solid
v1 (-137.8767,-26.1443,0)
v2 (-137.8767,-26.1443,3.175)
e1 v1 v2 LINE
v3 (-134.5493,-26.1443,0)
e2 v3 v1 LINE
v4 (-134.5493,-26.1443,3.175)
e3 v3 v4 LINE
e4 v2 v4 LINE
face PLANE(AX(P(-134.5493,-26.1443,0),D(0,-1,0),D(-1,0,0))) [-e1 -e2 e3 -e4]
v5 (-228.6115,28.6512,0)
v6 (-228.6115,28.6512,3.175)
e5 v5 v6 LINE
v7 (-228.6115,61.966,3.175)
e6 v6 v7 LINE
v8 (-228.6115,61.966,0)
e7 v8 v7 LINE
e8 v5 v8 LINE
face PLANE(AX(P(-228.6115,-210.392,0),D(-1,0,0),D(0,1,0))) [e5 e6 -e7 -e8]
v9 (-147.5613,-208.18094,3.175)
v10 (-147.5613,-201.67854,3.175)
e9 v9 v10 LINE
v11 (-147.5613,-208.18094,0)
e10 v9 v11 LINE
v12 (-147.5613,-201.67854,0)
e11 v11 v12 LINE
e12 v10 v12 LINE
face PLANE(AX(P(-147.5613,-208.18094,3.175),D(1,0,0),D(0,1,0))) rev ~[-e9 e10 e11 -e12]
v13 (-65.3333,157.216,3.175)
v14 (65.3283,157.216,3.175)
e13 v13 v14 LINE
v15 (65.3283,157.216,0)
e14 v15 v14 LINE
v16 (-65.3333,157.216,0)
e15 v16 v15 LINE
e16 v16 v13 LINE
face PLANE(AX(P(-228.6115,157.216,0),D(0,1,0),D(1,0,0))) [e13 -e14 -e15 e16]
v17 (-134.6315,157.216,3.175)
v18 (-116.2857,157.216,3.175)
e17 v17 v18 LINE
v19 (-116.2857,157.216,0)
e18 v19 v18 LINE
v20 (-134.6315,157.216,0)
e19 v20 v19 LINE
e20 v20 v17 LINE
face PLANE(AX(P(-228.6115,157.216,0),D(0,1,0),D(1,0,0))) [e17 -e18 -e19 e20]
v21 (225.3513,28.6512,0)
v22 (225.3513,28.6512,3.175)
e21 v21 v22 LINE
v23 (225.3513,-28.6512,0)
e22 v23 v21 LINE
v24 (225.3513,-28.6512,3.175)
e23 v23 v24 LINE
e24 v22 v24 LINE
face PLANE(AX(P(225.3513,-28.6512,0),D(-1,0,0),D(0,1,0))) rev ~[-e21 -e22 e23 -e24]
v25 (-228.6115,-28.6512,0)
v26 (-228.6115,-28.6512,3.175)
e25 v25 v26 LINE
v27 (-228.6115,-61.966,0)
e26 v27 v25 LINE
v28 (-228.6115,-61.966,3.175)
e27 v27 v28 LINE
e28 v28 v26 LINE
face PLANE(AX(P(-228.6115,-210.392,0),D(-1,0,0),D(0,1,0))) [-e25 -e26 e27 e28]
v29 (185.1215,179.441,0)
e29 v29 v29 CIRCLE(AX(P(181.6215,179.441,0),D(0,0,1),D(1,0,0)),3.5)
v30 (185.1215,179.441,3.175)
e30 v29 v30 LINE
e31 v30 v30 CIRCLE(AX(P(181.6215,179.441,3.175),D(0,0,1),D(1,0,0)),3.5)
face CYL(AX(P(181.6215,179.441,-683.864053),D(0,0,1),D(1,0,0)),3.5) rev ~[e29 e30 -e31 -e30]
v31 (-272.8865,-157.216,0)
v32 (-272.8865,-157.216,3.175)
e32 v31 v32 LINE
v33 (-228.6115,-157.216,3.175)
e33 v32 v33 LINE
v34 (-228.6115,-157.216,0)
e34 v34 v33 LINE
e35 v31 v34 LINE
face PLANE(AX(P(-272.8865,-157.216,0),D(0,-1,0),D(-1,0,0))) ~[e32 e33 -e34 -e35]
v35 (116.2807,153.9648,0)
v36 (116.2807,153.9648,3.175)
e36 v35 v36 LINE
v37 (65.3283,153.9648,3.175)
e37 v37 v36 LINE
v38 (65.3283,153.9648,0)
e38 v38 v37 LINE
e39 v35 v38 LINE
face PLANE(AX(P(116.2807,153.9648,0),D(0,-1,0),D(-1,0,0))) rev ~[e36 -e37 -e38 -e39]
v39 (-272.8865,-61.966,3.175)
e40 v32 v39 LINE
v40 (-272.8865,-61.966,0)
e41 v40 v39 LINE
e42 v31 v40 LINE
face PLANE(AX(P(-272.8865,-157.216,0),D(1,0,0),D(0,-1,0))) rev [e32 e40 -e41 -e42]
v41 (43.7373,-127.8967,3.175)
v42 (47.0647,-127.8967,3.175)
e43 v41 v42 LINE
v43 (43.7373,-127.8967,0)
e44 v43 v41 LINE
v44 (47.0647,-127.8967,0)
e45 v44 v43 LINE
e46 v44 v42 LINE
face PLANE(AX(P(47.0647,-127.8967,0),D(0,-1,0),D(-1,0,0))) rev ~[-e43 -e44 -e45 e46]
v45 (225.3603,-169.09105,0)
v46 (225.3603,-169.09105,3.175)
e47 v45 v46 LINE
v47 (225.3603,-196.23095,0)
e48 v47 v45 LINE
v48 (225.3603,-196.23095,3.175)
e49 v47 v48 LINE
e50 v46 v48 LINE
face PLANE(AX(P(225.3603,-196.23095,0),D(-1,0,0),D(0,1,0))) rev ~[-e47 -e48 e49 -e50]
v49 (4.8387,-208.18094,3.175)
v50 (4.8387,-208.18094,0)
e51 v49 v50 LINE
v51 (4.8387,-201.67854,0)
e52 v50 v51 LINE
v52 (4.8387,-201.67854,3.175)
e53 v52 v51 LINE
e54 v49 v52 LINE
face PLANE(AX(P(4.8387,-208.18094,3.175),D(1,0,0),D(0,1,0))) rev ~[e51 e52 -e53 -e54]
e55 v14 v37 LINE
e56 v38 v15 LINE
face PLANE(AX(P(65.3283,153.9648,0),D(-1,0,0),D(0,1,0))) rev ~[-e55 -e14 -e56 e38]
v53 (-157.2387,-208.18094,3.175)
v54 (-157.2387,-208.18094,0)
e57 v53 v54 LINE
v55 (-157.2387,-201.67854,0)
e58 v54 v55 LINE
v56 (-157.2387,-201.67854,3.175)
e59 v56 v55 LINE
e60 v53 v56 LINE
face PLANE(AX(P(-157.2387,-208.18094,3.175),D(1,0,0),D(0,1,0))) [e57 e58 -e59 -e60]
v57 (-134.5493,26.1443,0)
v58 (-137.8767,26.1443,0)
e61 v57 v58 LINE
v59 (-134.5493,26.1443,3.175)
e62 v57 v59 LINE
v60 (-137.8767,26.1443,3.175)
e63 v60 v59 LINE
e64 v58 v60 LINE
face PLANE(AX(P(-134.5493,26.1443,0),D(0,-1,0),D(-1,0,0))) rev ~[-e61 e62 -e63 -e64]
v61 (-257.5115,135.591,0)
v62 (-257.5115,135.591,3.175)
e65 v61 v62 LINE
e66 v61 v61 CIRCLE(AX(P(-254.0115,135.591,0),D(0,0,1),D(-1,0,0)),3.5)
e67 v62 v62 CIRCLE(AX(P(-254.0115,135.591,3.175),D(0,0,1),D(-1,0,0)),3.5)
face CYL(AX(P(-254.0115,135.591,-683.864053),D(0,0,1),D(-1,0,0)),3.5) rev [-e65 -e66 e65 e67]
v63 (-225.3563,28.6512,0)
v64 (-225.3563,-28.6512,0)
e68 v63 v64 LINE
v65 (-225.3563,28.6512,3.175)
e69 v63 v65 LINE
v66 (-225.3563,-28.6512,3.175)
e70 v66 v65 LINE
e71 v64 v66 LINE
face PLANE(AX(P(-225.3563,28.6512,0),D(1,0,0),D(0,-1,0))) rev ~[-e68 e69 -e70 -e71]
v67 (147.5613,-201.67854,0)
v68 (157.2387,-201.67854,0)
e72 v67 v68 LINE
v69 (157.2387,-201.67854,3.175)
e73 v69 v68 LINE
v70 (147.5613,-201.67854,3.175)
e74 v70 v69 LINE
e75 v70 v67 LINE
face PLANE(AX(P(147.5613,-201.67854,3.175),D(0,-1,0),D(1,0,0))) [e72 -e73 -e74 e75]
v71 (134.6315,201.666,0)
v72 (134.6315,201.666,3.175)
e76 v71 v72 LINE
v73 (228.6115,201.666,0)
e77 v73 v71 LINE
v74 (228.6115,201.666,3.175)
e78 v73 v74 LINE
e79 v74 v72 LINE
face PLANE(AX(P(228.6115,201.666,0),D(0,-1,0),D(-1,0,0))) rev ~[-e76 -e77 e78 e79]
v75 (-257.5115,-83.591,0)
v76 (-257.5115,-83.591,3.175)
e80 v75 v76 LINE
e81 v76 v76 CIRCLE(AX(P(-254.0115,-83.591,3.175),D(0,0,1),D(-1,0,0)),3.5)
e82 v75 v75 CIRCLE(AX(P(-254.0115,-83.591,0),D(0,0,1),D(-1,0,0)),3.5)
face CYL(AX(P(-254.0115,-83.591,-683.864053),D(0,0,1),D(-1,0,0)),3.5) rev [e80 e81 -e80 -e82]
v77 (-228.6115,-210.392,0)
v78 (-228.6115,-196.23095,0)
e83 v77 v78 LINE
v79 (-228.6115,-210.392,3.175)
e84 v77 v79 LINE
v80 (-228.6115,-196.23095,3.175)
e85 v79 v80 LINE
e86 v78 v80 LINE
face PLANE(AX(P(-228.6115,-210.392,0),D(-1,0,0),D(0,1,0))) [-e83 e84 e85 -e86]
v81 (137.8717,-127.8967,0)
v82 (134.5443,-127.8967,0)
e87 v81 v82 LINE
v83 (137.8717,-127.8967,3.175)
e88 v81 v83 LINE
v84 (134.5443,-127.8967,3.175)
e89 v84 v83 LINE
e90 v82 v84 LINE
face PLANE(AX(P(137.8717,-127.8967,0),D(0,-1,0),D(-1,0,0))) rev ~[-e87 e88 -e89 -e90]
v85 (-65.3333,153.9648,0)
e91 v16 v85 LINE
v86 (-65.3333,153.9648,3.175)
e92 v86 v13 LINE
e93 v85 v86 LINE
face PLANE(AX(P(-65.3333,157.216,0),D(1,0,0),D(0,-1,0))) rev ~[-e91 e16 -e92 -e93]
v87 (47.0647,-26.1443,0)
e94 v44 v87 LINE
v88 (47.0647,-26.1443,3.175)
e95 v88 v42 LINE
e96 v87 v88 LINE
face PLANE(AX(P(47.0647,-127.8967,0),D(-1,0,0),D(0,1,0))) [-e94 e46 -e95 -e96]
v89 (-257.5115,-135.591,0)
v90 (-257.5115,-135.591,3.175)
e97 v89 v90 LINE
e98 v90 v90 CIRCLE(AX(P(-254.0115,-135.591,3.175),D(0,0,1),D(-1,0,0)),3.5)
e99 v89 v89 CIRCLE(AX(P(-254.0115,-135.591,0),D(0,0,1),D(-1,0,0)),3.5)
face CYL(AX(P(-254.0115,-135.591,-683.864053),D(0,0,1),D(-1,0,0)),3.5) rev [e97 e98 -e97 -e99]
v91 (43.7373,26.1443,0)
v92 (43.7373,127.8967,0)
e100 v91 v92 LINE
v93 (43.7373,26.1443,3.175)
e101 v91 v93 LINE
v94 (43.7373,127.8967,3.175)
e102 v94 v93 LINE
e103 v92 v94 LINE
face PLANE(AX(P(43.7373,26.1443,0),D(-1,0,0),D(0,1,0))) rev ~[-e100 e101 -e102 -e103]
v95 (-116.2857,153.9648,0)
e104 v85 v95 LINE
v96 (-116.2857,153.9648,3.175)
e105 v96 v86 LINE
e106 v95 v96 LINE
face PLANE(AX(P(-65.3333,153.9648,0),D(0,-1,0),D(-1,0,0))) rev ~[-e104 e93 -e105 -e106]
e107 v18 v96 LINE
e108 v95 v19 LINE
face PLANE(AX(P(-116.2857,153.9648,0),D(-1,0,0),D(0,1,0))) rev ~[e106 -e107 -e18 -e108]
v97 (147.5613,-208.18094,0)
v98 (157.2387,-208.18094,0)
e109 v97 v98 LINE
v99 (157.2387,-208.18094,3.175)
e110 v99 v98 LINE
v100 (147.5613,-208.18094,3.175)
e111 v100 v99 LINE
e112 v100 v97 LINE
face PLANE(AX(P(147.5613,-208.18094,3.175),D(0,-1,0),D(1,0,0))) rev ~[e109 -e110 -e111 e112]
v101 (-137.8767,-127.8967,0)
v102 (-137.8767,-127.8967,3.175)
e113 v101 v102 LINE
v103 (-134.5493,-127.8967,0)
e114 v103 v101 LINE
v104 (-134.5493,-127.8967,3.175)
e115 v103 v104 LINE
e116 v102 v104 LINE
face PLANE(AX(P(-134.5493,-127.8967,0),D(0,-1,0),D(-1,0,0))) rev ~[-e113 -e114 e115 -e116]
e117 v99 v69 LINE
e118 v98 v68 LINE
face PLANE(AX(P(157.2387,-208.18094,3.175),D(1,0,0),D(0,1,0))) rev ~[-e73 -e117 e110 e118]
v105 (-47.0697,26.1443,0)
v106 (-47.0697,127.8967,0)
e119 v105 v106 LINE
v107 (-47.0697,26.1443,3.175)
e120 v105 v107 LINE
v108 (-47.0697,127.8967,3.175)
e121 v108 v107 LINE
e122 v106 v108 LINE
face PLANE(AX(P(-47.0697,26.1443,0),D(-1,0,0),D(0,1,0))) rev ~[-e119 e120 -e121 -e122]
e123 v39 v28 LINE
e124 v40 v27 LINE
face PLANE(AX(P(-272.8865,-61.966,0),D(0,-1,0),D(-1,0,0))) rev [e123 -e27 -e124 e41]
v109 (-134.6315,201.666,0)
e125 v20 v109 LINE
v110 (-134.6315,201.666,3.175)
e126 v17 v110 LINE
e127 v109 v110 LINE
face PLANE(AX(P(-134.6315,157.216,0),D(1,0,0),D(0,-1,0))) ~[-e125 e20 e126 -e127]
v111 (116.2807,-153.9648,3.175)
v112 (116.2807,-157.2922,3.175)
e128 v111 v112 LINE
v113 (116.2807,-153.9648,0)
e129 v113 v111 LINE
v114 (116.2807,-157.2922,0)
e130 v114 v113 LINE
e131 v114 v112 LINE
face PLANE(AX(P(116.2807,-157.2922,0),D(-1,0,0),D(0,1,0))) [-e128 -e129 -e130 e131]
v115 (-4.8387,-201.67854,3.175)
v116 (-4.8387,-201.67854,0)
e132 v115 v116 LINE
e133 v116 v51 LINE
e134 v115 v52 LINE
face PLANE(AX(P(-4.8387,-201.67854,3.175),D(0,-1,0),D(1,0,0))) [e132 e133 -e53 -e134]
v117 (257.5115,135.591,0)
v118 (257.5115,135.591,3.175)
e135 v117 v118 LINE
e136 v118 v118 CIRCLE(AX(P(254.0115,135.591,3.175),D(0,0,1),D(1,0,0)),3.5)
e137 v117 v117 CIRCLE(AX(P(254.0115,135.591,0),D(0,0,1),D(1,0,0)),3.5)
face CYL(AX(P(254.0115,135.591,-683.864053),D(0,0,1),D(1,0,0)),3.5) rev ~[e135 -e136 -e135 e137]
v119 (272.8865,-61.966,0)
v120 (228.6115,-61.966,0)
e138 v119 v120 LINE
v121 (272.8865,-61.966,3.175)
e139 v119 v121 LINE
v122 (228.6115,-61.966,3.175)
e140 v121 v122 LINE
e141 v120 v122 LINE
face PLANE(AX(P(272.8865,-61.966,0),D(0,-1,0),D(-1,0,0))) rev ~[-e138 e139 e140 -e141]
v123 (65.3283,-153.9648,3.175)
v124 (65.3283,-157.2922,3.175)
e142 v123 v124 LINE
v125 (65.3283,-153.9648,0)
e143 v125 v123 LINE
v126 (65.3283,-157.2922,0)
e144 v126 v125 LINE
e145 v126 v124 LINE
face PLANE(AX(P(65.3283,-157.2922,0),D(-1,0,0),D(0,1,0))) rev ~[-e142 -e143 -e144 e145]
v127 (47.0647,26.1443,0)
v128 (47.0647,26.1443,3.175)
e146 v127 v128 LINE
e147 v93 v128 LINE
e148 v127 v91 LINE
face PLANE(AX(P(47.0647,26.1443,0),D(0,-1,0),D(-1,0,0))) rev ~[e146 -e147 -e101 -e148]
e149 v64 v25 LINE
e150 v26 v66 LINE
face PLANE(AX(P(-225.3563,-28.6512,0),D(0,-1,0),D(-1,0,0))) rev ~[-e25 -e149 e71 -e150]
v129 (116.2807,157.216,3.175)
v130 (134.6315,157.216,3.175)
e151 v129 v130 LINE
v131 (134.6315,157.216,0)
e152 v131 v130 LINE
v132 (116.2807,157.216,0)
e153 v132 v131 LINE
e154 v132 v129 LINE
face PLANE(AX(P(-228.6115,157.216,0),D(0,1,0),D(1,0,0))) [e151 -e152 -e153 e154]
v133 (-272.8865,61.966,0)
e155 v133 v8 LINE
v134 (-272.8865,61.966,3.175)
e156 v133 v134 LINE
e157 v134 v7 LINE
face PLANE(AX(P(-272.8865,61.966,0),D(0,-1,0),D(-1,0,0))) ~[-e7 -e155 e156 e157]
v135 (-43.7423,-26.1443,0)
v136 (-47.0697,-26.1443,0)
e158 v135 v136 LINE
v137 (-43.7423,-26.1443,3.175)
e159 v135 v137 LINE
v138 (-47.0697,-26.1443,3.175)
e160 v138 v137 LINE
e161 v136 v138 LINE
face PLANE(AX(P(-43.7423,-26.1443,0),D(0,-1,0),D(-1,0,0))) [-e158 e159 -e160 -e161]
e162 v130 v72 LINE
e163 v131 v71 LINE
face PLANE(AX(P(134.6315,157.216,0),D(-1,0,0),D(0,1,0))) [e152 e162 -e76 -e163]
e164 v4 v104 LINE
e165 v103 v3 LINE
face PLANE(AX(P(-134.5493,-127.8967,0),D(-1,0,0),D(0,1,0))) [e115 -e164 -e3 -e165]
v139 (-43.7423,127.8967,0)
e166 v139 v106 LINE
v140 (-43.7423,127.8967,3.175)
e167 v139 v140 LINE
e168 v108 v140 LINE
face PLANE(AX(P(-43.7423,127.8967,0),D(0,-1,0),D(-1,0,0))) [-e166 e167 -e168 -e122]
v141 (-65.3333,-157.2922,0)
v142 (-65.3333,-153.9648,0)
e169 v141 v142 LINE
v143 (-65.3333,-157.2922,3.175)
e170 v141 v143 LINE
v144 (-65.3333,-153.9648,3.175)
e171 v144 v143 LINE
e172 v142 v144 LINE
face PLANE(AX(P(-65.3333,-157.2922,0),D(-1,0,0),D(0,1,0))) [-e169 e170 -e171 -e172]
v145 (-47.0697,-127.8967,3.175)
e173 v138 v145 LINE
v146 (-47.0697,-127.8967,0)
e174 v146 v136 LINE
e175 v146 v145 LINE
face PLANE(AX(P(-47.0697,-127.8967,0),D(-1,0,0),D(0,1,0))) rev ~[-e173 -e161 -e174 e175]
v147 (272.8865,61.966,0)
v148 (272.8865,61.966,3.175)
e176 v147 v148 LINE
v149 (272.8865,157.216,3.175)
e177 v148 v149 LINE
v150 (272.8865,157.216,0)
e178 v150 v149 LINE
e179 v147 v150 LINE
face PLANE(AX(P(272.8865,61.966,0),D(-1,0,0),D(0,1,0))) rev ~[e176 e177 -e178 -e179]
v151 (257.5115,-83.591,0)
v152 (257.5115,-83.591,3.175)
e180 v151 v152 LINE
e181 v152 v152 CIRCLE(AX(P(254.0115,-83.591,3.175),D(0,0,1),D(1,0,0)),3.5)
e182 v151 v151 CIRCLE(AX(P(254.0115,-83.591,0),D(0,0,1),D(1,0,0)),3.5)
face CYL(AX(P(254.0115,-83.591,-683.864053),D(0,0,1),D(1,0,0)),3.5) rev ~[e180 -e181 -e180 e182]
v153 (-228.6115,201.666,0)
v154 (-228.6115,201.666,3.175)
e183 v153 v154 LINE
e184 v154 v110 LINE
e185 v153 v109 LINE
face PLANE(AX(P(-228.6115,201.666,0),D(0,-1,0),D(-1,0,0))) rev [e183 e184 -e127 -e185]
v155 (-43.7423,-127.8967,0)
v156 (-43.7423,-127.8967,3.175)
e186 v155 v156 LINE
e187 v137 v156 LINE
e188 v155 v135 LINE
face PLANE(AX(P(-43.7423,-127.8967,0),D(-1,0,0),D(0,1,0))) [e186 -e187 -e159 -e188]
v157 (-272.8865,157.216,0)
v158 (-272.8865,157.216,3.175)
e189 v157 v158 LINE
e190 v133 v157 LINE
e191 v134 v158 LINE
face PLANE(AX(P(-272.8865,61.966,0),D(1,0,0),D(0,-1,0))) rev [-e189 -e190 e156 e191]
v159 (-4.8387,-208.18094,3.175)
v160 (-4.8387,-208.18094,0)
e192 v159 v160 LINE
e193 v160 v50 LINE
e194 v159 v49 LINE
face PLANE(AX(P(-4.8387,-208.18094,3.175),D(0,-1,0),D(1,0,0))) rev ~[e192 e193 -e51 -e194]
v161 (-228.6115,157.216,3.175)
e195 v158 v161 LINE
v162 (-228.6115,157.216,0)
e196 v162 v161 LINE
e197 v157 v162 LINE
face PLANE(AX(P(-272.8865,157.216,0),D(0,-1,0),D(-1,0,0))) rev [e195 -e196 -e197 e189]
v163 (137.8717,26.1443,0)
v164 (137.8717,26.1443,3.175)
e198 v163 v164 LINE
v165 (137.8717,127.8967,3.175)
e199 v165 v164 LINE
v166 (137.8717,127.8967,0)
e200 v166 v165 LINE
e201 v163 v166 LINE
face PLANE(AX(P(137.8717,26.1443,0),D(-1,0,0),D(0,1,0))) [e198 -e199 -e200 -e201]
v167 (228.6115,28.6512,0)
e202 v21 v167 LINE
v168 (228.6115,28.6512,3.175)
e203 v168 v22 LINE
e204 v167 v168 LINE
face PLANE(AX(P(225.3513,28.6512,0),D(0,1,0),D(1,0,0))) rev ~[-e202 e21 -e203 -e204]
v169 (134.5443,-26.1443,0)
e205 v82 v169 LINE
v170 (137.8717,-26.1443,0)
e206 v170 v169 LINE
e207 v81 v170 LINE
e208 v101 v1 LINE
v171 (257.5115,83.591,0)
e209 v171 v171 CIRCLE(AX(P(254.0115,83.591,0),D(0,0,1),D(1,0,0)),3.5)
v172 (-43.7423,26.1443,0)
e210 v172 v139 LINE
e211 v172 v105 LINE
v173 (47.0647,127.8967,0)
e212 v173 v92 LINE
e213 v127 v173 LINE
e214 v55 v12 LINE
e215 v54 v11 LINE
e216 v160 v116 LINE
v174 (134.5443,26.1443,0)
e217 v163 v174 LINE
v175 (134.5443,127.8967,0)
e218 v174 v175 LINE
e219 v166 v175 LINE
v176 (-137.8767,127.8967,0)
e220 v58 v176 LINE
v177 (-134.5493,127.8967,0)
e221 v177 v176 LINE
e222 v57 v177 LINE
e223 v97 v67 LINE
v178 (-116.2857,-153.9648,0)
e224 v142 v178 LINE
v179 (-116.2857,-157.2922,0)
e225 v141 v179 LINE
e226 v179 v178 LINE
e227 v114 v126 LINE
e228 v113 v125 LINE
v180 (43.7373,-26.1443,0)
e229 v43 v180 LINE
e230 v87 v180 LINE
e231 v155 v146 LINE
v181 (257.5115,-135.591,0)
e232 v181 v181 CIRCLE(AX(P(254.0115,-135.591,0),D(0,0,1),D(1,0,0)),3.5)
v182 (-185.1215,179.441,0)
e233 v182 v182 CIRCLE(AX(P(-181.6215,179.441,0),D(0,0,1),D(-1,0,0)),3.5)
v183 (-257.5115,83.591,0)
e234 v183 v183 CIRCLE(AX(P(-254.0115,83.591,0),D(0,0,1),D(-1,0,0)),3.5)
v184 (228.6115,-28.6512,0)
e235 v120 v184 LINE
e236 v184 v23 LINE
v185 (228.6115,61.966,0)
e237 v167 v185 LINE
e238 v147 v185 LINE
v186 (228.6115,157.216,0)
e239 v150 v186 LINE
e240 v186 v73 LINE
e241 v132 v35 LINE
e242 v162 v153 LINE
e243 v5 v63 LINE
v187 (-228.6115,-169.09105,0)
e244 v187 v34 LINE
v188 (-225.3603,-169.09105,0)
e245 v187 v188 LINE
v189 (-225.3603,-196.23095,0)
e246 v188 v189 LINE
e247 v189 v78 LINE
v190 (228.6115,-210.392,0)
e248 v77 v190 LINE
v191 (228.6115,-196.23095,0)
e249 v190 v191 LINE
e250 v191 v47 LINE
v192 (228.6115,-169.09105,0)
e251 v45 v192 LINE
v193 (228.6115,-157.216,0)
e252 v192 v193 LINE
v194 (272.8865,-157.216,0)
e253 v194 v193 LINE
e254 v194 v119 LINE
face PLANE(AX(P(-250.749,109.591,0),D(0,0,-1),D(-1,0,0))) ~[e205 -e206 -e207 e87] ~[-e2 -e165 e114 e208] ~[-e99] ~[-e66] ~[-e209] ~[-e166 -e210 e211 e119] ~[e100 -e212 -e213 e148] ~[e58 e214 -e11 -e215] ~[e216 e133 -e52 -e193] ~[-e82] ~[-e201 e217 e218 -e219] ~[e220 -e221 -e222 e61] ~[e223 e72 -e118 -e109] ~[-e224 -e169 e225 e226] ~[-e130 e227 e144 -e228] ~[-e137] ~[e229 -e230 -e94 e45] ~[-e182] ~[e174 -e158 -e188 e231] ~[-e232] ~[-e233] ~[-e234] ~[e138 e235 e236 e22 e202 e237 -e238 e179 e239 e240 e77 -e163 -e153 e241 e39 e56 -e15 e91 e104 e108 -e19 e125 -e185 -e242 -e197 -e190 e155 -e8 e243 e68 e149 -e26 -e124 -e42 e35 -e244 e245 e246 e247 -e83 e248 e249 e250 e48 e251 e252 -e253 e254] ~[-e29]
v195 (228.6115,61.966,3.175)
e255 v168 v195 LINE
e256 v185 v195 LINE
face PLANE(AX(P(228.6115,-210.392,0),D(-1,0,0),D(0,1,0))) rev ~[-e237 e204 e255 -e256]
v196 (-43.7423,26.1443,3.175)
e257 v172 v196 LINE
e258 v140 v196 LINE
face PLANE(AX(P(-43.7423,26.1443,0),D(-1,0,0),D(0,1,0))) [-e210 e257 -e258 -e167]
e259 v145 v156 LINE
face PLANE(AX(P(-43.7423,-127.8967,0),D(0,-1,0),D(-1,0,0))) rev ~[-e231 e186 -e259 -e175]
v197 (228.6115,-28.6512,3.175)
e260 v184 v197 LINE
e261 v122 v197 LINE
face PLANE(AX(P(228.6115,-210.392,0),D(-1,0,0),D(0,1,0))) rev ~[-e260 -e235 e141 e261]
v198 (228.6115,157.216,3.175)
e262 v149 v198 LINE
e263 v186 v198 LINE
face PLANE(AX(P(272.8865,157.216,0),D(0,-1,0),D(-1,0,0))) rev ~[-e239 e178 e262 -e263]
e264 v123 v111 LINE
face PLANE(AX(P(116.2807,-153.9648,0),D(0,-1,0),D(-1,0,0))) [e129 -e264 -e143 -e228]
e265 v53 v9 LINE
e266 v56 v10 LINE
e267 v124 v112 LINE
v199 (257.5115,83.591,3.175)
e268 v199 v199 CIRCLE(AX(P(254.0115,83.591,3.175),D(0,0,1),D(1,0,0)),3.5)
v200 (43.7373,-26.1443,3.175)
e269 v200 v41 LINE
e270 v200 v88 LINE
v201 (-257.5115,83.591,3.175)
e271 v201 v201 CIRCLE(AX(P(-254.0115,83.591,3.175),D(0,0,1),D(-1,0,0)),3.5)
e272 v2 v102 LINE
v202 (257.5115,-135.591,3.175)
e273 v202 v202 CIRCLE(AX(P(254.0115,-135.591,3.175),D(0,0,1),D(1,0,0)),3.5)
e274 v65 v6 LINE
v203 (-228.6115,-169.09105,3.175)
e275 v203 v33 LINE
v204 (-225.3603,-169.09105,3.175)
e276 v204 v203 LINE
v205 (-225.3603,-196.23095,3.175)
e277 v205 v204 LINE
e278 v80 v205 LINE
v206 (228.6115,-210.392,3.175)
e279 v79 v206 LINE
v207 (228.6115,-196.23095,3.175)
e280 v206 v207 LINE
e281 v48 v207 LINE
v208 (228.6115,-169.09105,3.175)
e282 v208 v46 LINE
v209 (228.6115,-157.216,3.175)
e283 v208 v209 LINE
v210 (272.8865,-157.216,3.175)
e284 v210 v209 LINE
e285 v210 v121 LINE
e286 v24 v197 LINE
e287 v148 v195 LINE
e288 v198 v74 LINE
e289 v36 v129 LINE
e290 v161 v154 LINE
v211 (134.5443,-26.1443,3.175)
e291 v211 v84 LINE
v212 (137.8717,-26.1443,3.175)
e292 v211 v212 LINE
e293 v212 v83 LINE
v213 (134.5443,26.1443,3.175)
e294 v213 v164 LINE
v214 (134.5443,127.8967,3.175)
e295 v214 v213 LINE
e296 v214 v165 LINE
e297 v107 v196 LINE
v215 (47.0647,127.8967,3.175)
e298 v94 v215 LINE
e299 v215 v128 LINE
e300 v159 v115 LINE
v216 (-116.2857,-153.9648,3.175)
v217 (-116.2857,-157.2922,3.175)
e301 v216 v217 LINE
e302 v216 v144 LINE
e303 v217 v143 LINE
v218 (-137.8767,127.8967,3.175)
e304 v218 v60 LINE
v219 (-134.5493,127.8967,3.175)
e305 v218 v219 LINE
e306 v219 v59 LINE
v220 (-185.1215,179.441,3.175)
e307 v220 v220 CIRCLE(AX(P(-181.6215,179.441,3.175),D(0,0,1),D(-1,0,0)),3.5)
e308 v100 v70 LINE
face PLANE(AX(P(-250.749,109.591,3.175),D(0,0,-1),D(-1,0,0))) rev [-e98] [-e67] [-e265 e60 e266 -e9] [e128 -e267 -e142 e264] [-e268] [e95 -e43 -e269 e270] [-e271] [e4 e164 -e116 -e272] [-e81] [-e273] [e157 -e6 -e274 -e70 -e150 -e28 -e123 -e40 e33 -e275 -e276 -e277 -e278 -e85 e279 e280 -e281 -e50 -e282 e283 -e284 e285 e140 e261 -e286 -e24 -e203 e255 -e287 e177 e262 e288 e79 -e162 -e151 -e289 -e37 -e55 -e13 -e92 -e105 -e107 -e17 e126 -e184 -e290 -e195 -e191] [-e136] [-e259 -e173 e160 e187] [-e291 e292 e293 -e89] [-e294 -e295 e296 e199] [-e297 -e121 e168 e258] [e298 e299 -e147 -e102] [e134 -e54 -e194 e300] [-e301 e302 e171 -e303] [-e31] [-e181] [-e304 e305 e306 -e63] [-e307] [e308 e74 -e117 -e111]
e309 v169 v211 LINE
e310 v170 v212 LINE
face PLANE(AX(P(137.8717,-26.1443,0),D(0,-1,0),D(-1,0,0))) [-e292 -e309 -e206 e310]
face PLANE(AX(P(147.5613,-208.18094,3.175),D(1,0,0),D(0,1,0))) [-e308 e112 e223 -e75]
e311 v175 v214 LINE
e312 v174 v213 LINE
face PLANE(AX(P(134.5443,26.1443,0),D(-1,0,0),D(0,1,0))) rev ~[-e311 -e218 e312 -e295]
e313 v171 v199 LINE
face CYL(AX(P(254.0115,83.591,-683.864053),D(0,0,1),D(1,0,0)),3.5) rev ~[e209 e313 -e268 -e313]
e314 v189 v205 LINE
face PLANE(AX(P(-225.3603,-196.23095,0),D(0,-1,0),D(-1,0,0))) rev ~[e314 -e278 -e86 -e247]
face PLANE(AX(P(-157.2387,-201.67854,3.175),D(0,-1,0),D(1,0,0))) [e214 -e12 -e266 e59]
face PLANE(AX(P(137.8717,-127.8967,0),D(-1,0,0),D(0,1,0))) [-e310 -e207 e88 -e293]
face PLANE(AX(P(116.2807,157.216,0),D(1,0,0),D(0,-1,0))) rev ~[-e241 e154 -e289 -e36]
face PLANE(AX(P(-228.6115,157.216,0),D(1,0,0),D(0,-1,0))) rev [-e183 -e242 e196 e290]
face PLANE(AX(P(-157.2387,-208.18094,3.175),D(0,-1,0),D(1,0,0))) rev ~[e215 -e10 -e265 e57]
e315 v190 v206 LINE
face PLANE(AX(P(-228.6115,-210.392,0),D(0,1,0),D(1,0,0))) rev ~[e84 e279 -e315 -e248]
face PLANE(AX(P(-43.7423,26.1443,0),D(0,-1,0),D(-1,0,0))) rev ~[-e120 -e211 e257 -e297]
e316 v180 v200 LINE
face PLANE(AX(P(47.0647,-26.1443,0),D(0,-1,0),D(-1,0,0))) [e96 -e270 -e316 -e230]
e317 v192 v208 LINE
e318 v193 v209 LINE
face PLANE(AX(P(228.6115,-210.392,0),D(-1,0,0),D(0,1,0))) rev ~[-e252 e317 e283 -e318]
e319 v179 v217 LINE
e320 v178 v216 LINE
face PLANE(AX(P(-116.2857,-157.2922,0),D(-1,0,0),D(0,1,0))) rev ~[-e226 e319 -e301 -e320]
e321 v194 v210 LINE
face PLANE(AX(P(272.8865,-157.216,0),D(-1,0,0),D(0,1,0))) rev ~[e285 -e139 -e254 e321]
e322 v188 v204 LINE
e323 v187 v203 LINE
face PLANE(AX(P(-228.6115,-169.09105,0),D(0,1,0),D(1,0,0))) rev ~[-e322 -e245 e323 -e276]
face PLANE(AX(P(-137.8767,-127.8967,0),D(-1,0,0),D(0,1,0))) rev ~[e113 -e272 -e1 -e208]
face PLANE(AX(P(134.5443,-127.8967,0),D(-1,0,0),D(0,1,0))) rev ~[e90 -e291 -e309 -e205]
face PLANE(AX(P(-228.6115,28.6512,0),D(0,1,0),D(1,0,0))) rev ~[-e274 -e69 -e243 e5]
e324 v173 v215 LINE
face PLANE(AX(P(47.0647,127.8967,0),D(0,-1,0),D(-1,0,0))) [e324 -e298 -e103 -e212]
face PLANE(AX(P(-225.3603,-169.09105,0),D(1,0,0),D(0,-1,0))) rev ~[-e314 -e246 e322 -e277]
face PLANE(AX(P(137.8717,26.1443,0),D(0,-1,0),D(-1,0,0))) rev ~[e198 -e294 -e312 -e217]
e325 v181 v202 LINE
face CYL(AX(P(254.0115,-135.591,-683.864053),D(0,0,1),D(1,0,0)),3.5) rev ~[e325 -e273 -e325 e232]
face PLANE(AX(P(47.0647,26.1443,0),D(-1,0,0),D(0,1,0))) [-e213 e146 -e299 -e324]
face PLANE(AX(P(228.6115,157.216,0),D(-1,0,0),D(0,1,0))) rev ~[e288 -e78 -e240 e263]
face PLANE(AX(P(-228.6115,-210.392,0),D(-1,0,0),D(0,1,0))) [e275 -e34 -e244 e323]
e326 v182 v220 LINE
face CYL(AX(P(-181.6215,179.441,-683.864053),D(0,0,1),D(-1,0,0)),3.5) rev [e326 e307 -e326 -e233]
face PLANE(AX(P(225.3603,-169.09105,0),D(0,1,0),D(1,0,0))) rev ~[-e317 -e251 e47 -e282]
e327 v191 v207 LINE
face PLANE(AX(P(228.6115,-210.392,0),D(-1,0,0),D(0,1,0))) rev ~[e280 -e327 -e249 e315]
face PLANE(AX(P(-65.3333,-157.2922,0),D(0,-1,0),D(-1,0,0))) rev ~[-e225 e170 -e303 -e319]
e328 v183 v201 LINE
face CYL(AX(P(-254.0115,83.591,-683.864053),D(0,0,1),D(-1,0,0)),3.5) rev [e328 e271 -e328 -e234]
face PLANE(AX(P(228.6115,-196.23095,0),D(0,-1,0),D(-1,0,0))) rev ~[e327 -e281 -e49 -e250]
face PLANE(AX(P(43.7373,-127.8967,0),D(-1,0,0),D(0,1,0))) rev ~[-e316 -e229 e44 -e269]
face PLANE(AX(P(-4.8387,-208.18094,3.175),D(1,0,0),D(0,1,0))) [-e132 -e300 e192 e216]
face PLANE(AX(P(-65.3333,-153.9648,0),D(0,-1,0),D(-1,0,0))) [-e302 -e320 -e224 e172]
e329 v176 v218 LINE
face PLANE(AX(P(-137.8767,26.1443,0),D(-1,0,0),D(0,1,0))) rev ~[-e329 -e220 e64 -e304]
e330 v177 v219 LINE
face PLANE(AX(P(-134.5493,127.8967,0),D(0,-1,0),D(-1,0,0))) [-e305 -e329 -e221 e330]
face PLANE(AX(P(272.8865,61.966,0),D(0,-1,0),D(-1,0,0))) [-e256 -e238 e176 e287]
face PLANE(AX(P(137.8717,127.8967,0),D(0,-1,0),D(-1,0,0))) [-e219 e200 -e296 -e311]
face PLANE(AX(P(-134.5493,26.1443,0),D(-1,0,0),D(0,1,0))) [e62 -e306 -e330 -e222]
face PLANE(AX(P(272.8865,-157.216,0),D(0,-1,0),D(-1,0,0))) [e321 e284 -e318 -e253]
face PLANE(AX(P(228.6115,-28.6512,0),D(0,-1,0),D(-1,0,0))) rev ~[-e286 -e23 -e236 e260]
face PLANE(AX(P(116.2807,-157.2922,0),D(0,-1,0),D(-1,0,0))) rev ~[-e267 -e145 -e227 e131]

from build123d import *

# Parameters (mm, degrees)
SKETCH1_W            = 457.223
SKETCH1_H            = 367.60800004
BOSS_EXTRUDE2_DEPTH  = 3.175
SKETCH8_W            = 44.275
SKETCH8_H            = 95.25
SKETCH8_W_2          = 93.98
SKETCH8_H_2          = 44.45
BOSS_EXTRUDE3_DEPTH  = 3.175
M6_CLEARANCE_HOLE1_D = 7
SKETCH12_W           = 3.184
SKETCH12_H           = 57.15
SKETCH12_W_2         = 3.175
SKETCH12_H_2         = 26.9875
SKETCH12_W_3         = 50.9524
SKETCH12_H_3         = 3.3274
SKETCH12_W_4         = 50.8
SKETCH12_H_4         = 3.175
SKETCH12_W_5         = 3.179
CUT_EXTRUDE3_DEPTH   = 345.589489363
SKETCH14_W           = 3.3274
SKETCH14_H           = 101.7524
SKETCH14_W_2         = 3.175
SKETCH14_H_2         = 101.6
CUT_EXTRUDE4_DEPTH   = 345.589489363
LPATTERN2_COUNT      = 4
LPATTERN2_PITCH      = 90.806999996
SKETCH16_W           = 9.6774
SKETCH16_H           = 6.5024
SKETCH16_W_2         = 9.525
SKETCH16_H_2         = 6.35
CUT_EXTRUDE5_DEPTH   = 345.589489363


with BuildPart() as part:
    # Sketch1 → Boss-Extrude2 (new body)
    with BuildSketch(Plane.XY):
        with Locations((0, -26.588)):
            Rectangle(SKETCH1_W, SKETCH1_H)
    extrude(amount=BOSS_EXTRUDE2_DEPTH)

    # Sketch8 → Boss-Extrude3 (add)
    with BuildSketch(Plane(origin=(0, 0, 0), x_dir=(-1, 0, 0), z_dir=(0, 0, -1))):
        with Locations((-250.749, 109.59100002)):
            Rectangle(SKETCH8_W, SKETCH8_H)
        with Locations((-181.6215, 179.44100002)):
            Rectangle(SKETCH8_W_2, SKETCH8_H_2)
        with Locations((-250.749, -109.59100002)):
            Rectangle(SKETCH8_W, SKETCH8_H)
    boss_extrude3 = extrude(amount=-BOSS_EXTRUDE3_DEPTH)

    # Mirror7: Boss-Extrude3 across plane
    add(boss_extrude3.mirror(Plane(origin=(0, 0, 0), x_dir=(0, 0, 1), z_dir=(1, 0, 0))))

    # M6 Clearance Hole1 (through all)
    with Locations(Plane(origin=(0, 0, 0), x_dir=(-1, 0, 0), z_dir=(0, 0, -1))):
        with Locations((-254.0115, -135.59100002), (-254.0115, -83.59100002), (-254.0115, 83.59100002), (-254.0115, 135.59100002), (-181.6215, 179.44100002)):
            m6_clearance_hole1 = Hole(M6_CLEARANCE_HOLE1_D / 2)

    # Mirror8: M6 Clearance Hole1 across plane
    add(m6_clearance_hole1.mirror(Plane(origin=(0, 0, 0), x_dir=(0, 0, 1), z_dir=(1, 0, 0))), mode=Mode.SUBTRACT)

    # Sketch12 → Cut-Extrude3 (cut, through all)
    # profile 1 of 16: a face of its own
    with BuildSketch(Plane(origin=(0, 0, 0), x_dir=(-1, 0, 0), z_dir=(0, 0, -1))):
        with Locations((-227.0195, 0)):
            Rectangle(SKETCH12_W, SKETCH12_H)
    # profile 2 of 16: a face of its own
    with BuildSketch(Plane(origin=(0, 0, 0), x_dir=(-1, 0, 0), z_dir=(0, 0, -1))):
        Polygon((-228.6115, 28.6512), (-228.6115, 28.575), (-225.4275, 28.575), (-225.4275, -28.575), (-228.6115, -28.575), (-228.6115, -28.6512), (-225.3513, -28.6512), (-225.3513, 28.6512), align=None)
    # profile 3 of 16: a face of its own
    with BuildSketch(Plane(origin=(0, 0, 0), x_dir=(-1, 0, 0), z_dir=(0, 0, -1))):
        with Locations((-227.024, -182.66100002)):
            Rectangle(SKETCH12_W_2, SKETCH12_H_2)
    # profile 4 of 16: a face of its own
    with BuildSketch(Plane(origin=(0, 0, 0), x_dir=(-1, 0, 0), z_dir=(0, 0, -1))):
        Polygon((-228.6115, -196.15475002), (-228.6115, -196.23095002), (-225.3603, -196.23095002), (-225.3603, -169.09105002), (-228.6115, -169.09105002), (-228.6115, -169.16725002), (-225.4365, -169.16725002), (-225.4365, -196.15475002), align=None)
    # profile 5 of 16: a face of its own
    with BuildSketch(Plane(origin=(0, 0, 0), x_dir=(-1, 0, 0), z_dir=(0, 0, -1))):
        with Locations((-90.8045, -155.62850002)):
            Rectangle(SKETCH12_W_3, SKETCH12_H_3)
        with Locations((-90.8045, -155.62850002)):
            Rectangle(SKETCH12_W_4, SKETCH12_H_4, mode=Mode.SUBTRACT)
    # profile 6 of 16: a face of its own
    with BuildSketch(Plane(origin=(0, 0, 0), x_dir=(-1, 0, 0), z_dir=(0, 0, -1))):
        with Locations((-90.8045, -155.62850002)):
            Rectangle(SKETCH12_W_4, SKETCH12_H_4)
    # profile 7 of 16: a face of its own
    with BuildSketch(Plane(origin=(0, 0, 0), x_dir=(-1, 0, 0), z_dir=(0, 0, -1))):
        with Locations((90.8095, -155.62850002)):
            Rectangle(SKETCH12_W_3, SKETCH12_H_3)
        with Locations((90.8095, -155.62850002)):
            Rectangle(SKETCH12_W_4, SKETCH12_H_4, mode=Mode.SUBTRACT)
    # profile 8 of 16: a face of its own
    with BuildSketch(Plane(origin=(0, 0, 0), x_dir=(-1, 0, 0), z_dir=(0, 0, -1))):
        with Locations((90.8095, -155.62850002)):
            Rectangle(SKETCH12_W_4, SKETCH12_H_4)
    # profile 9 of 16: a face of its own
    with BuildSketch(Plane(origin=(0, 0, 0), x_dir=(-1, 0, 0), z_dir=(0, 0, -1))):
        with Locations((227.024, -182.66100002)):
            Rectangle(SKETCH12_W_2, SKETCH12_H_2)
    # profile 10 of 16: a face of its own
    with BuildSketch(Plane(origin=(0, 0, 0), x_dir=(-1, 0, 0), z_dir=(0, 0, -1))):
        Polygon((225.3603, -196.23095002), (228.6115, -196.23095002), (228.6115, -196.15475002), (225.4365, -196.15475002), (225.4365, -169.16725002), (228.6115, -169.16725002), (228.6115, -169.09105002), (225.3603, -169.09105002), align=None)
    # profile 11 of 16: a face of its own
    with BuildSketch(Plane(origin=(0, 0, 0), x_dir=(-1, 0, 0), z_dir=(0, 0, -1))):
        with Locations((227.022, 0)):
            Rectangle(SKETCH12_W_5, SKETCH12_H)
    # profile 12 of 16: a face of its own
    with BuildSketch(Plane(origin=(0, 0, 0), x_dir=(-1, 0, 0), z_dir=(0, 0, -1))):
        Polygon((225.4325, -28.575), (225.4325, 28.575), (228.6115, 28.575), (228.6115, 28.6512), (225.3563, 28.6512), (225.3563, -28.6512), (228.6115, -28.6512), (228.6115, -28.575), align=None)
    # profile 13 of 16: a face of its own
    with BuildSketch(Plane(origin=(0, 0, 0), x_dir=(-1, 0, 0), z_dir=(0, 0, -1))):
        with Locations((90.8095, 155.62850002)):
            Rectangle(SKETCH12_W_4, SKETCH12_H_4)
    # profile 14 of 16: a face of its own
    with BuildSketch(Plane(origin=(0, 0, 0), x_dir=(-1, 0, 0), z_dir=(0, 0, -1))):
        Polygon((65.4095, 157.21600002), (65.3333, 157.21600002), (65.3333, 153.96480002), (116.2857, 153.96480002), (116.2857, 157.21600002), (116.2095, 157.21600002), (116.2095, 154.04100002), (65.4095, 154.04100002), align=None)
    # profile 15 of 16: a face of its own
    with BuildSketch(Plane(origin=(0, 0, 0), x_dir=(-1, 0, 0), z_dir=(0, 0, -1))):
        with Locations((-90.8045, 155.62850002)):
            Rectangle(SKETCH12_W_4, SKETCH12_H_4)
    # profile 16 of 16: a face of its own
    with BuildSketch(Plane(origin=(0, 0, 0), x_dir=(-1, 0, 0), z_dir=(0, 0, -1))):
        Polygon((-116.2045, 154.04100002), (-116.2045, 157.21600002), (-116.2807, 157.21600002), (-116.2807, 153.96480002), (-65.3283, 153.96480002), (-65.3283, 157.21600002), (-65.4045, 157.21600002), (-65.4045, 154.04100002), align=None)
    extrude(amount=-CUT_EXTRUDE3_DEPTH, mode=Mode.SUBTRACT)

    # Sketch14 → Cut-Extrude4 (cut, through all)
    # profile 1 of 4: a face of its own
    with BuildSketch(Plane(origin=(0, 0, 0), x_dir=(-1, 0, 0), z_dir=(0, 0, -1))):
        with Locations((-136.208, 77.02050001)):
            Rectangle(SKETCH14_W, SKETCH14_H)
        with Locations((-136.208, 77.02050001)):
            Rectangle(SKETCH14_W_2, SKETCH14_H_2, mode=Mode.SUBTRACT)
    # profile 2 of 4: a face of its own
    with BuildSketch(Plane(origin=(0, 0, 0), x_dir=(-1, 0, 0), z_dir=(0, 0, -1))):
        with Locations((-136.208, 77.02050001)):
            Rectangle(SKETCH14_W_2, SKETCH14_H_2)
    # profile 3 of 4: a face of its own
    with BuildSketch(Plane(origin=(0, 0, 0), x_dir=(-1, 0, 0), z_dir=(0, 0, -1))):
        with Locations((-136.208, -77.02050001)):
            Rectangle(SKETCH14_W, SKETCH14_H)
        with Locations((-136.208, -77.02050001)):
            Rectangle(SKETCH14_W_2, SKETCH14_H_2, mode=Mode.SUBTRACT)
    # profile 4 of 4: a face of its own
    with BuildSketch(Plane(origin=(0, 0, 0), x_dir=(-1, 0, 0), z_dir=(0, 0, -1))):
        with Locations((-136.208, -77.02050001)):
            Rectangle(SKETCH14_W_2, SKETCH14_H_2)
    cut_extrude4 = extrude(amount=-CUT_EXTRUDE4_DEPTH, mode=Mode.SUBTRACT)

    # LPattern2: Cut-Extrude4 ×4
    with Locations(*[(-i * LPATTERN2_PITCH, 0, 0) for i in range(1, LPATTERN2_COUNT)]):
        add(cut_extrude4, mode=Mode.SUBTRACT)

    # Sketch16 → Cut-Extrude5 (cut, through all)
    # profile 1 of 6: a face of its own
    with BuildSketch(Plane.XY.offset(3.175)):
        with Locations((152.4, -204.92974)):
            Rectangle(SKETCH16_W, SKETCH16_H)
        with Locations((152.4, -204.92974)):
            Rectangle(SKETCH16_W_2, SKETCH16_H_2, mode=Mode.SUBTRACT)
    # profile 2 of 6: a face of its own
    with BuildSketch(Plane.XY.offset(3.175)):
        with Locations((152.4, -204.92974)):
            Rectangle(SKETCH16_W_2, SKETCH16_H_2)
    # profile 3 of 6: a face of its own
    with BuildSketch(Plane.XY.offset(3.175)):
        with Locations((0, -204.92974)):
            Rectangle(SKETCH16_W, SKETCH16_H)
        with Locations((0, -204.92974)):
            Rectangle(SKETCH16_W_2, SKETCH16_H_2, mode=Mode.SUBTRACT)
    # profile 4 of 6: a face of its own
    with BuildSketch(Plane.XY.offset(3.175)):
        with Locations((0, -204.92974)):
            Rectangle(SKETCH16_W_2, SKETCH16_H_2)
    # profile 5 of 6: a face of its own
    with BuildSketch(Plane.XY.offset(3.175)):
        with Locations((-152.4, -204.92974)):
            Rectangle(SKETCH16_W, SKETCH16_H)
        with Locations((-152.4, -204.92974)):
            Rectangle(SKETCH16_W_2, SKETCH16_H_2, mode=Mode.SUBTRACT)
    # profile 6 of 6: a face of its own
    with BuildSketch(Plane.XY.offset(3.175)):
        with Locations((-152.4, -204.92974)):
            Rectangle(SKETCH16_W_2, SKETCH16_H_2)
    extrude(amount=-CUT_EXTRUDE5_DEPTH, mode=Mode.SUBTRACT)


solid = part.part
